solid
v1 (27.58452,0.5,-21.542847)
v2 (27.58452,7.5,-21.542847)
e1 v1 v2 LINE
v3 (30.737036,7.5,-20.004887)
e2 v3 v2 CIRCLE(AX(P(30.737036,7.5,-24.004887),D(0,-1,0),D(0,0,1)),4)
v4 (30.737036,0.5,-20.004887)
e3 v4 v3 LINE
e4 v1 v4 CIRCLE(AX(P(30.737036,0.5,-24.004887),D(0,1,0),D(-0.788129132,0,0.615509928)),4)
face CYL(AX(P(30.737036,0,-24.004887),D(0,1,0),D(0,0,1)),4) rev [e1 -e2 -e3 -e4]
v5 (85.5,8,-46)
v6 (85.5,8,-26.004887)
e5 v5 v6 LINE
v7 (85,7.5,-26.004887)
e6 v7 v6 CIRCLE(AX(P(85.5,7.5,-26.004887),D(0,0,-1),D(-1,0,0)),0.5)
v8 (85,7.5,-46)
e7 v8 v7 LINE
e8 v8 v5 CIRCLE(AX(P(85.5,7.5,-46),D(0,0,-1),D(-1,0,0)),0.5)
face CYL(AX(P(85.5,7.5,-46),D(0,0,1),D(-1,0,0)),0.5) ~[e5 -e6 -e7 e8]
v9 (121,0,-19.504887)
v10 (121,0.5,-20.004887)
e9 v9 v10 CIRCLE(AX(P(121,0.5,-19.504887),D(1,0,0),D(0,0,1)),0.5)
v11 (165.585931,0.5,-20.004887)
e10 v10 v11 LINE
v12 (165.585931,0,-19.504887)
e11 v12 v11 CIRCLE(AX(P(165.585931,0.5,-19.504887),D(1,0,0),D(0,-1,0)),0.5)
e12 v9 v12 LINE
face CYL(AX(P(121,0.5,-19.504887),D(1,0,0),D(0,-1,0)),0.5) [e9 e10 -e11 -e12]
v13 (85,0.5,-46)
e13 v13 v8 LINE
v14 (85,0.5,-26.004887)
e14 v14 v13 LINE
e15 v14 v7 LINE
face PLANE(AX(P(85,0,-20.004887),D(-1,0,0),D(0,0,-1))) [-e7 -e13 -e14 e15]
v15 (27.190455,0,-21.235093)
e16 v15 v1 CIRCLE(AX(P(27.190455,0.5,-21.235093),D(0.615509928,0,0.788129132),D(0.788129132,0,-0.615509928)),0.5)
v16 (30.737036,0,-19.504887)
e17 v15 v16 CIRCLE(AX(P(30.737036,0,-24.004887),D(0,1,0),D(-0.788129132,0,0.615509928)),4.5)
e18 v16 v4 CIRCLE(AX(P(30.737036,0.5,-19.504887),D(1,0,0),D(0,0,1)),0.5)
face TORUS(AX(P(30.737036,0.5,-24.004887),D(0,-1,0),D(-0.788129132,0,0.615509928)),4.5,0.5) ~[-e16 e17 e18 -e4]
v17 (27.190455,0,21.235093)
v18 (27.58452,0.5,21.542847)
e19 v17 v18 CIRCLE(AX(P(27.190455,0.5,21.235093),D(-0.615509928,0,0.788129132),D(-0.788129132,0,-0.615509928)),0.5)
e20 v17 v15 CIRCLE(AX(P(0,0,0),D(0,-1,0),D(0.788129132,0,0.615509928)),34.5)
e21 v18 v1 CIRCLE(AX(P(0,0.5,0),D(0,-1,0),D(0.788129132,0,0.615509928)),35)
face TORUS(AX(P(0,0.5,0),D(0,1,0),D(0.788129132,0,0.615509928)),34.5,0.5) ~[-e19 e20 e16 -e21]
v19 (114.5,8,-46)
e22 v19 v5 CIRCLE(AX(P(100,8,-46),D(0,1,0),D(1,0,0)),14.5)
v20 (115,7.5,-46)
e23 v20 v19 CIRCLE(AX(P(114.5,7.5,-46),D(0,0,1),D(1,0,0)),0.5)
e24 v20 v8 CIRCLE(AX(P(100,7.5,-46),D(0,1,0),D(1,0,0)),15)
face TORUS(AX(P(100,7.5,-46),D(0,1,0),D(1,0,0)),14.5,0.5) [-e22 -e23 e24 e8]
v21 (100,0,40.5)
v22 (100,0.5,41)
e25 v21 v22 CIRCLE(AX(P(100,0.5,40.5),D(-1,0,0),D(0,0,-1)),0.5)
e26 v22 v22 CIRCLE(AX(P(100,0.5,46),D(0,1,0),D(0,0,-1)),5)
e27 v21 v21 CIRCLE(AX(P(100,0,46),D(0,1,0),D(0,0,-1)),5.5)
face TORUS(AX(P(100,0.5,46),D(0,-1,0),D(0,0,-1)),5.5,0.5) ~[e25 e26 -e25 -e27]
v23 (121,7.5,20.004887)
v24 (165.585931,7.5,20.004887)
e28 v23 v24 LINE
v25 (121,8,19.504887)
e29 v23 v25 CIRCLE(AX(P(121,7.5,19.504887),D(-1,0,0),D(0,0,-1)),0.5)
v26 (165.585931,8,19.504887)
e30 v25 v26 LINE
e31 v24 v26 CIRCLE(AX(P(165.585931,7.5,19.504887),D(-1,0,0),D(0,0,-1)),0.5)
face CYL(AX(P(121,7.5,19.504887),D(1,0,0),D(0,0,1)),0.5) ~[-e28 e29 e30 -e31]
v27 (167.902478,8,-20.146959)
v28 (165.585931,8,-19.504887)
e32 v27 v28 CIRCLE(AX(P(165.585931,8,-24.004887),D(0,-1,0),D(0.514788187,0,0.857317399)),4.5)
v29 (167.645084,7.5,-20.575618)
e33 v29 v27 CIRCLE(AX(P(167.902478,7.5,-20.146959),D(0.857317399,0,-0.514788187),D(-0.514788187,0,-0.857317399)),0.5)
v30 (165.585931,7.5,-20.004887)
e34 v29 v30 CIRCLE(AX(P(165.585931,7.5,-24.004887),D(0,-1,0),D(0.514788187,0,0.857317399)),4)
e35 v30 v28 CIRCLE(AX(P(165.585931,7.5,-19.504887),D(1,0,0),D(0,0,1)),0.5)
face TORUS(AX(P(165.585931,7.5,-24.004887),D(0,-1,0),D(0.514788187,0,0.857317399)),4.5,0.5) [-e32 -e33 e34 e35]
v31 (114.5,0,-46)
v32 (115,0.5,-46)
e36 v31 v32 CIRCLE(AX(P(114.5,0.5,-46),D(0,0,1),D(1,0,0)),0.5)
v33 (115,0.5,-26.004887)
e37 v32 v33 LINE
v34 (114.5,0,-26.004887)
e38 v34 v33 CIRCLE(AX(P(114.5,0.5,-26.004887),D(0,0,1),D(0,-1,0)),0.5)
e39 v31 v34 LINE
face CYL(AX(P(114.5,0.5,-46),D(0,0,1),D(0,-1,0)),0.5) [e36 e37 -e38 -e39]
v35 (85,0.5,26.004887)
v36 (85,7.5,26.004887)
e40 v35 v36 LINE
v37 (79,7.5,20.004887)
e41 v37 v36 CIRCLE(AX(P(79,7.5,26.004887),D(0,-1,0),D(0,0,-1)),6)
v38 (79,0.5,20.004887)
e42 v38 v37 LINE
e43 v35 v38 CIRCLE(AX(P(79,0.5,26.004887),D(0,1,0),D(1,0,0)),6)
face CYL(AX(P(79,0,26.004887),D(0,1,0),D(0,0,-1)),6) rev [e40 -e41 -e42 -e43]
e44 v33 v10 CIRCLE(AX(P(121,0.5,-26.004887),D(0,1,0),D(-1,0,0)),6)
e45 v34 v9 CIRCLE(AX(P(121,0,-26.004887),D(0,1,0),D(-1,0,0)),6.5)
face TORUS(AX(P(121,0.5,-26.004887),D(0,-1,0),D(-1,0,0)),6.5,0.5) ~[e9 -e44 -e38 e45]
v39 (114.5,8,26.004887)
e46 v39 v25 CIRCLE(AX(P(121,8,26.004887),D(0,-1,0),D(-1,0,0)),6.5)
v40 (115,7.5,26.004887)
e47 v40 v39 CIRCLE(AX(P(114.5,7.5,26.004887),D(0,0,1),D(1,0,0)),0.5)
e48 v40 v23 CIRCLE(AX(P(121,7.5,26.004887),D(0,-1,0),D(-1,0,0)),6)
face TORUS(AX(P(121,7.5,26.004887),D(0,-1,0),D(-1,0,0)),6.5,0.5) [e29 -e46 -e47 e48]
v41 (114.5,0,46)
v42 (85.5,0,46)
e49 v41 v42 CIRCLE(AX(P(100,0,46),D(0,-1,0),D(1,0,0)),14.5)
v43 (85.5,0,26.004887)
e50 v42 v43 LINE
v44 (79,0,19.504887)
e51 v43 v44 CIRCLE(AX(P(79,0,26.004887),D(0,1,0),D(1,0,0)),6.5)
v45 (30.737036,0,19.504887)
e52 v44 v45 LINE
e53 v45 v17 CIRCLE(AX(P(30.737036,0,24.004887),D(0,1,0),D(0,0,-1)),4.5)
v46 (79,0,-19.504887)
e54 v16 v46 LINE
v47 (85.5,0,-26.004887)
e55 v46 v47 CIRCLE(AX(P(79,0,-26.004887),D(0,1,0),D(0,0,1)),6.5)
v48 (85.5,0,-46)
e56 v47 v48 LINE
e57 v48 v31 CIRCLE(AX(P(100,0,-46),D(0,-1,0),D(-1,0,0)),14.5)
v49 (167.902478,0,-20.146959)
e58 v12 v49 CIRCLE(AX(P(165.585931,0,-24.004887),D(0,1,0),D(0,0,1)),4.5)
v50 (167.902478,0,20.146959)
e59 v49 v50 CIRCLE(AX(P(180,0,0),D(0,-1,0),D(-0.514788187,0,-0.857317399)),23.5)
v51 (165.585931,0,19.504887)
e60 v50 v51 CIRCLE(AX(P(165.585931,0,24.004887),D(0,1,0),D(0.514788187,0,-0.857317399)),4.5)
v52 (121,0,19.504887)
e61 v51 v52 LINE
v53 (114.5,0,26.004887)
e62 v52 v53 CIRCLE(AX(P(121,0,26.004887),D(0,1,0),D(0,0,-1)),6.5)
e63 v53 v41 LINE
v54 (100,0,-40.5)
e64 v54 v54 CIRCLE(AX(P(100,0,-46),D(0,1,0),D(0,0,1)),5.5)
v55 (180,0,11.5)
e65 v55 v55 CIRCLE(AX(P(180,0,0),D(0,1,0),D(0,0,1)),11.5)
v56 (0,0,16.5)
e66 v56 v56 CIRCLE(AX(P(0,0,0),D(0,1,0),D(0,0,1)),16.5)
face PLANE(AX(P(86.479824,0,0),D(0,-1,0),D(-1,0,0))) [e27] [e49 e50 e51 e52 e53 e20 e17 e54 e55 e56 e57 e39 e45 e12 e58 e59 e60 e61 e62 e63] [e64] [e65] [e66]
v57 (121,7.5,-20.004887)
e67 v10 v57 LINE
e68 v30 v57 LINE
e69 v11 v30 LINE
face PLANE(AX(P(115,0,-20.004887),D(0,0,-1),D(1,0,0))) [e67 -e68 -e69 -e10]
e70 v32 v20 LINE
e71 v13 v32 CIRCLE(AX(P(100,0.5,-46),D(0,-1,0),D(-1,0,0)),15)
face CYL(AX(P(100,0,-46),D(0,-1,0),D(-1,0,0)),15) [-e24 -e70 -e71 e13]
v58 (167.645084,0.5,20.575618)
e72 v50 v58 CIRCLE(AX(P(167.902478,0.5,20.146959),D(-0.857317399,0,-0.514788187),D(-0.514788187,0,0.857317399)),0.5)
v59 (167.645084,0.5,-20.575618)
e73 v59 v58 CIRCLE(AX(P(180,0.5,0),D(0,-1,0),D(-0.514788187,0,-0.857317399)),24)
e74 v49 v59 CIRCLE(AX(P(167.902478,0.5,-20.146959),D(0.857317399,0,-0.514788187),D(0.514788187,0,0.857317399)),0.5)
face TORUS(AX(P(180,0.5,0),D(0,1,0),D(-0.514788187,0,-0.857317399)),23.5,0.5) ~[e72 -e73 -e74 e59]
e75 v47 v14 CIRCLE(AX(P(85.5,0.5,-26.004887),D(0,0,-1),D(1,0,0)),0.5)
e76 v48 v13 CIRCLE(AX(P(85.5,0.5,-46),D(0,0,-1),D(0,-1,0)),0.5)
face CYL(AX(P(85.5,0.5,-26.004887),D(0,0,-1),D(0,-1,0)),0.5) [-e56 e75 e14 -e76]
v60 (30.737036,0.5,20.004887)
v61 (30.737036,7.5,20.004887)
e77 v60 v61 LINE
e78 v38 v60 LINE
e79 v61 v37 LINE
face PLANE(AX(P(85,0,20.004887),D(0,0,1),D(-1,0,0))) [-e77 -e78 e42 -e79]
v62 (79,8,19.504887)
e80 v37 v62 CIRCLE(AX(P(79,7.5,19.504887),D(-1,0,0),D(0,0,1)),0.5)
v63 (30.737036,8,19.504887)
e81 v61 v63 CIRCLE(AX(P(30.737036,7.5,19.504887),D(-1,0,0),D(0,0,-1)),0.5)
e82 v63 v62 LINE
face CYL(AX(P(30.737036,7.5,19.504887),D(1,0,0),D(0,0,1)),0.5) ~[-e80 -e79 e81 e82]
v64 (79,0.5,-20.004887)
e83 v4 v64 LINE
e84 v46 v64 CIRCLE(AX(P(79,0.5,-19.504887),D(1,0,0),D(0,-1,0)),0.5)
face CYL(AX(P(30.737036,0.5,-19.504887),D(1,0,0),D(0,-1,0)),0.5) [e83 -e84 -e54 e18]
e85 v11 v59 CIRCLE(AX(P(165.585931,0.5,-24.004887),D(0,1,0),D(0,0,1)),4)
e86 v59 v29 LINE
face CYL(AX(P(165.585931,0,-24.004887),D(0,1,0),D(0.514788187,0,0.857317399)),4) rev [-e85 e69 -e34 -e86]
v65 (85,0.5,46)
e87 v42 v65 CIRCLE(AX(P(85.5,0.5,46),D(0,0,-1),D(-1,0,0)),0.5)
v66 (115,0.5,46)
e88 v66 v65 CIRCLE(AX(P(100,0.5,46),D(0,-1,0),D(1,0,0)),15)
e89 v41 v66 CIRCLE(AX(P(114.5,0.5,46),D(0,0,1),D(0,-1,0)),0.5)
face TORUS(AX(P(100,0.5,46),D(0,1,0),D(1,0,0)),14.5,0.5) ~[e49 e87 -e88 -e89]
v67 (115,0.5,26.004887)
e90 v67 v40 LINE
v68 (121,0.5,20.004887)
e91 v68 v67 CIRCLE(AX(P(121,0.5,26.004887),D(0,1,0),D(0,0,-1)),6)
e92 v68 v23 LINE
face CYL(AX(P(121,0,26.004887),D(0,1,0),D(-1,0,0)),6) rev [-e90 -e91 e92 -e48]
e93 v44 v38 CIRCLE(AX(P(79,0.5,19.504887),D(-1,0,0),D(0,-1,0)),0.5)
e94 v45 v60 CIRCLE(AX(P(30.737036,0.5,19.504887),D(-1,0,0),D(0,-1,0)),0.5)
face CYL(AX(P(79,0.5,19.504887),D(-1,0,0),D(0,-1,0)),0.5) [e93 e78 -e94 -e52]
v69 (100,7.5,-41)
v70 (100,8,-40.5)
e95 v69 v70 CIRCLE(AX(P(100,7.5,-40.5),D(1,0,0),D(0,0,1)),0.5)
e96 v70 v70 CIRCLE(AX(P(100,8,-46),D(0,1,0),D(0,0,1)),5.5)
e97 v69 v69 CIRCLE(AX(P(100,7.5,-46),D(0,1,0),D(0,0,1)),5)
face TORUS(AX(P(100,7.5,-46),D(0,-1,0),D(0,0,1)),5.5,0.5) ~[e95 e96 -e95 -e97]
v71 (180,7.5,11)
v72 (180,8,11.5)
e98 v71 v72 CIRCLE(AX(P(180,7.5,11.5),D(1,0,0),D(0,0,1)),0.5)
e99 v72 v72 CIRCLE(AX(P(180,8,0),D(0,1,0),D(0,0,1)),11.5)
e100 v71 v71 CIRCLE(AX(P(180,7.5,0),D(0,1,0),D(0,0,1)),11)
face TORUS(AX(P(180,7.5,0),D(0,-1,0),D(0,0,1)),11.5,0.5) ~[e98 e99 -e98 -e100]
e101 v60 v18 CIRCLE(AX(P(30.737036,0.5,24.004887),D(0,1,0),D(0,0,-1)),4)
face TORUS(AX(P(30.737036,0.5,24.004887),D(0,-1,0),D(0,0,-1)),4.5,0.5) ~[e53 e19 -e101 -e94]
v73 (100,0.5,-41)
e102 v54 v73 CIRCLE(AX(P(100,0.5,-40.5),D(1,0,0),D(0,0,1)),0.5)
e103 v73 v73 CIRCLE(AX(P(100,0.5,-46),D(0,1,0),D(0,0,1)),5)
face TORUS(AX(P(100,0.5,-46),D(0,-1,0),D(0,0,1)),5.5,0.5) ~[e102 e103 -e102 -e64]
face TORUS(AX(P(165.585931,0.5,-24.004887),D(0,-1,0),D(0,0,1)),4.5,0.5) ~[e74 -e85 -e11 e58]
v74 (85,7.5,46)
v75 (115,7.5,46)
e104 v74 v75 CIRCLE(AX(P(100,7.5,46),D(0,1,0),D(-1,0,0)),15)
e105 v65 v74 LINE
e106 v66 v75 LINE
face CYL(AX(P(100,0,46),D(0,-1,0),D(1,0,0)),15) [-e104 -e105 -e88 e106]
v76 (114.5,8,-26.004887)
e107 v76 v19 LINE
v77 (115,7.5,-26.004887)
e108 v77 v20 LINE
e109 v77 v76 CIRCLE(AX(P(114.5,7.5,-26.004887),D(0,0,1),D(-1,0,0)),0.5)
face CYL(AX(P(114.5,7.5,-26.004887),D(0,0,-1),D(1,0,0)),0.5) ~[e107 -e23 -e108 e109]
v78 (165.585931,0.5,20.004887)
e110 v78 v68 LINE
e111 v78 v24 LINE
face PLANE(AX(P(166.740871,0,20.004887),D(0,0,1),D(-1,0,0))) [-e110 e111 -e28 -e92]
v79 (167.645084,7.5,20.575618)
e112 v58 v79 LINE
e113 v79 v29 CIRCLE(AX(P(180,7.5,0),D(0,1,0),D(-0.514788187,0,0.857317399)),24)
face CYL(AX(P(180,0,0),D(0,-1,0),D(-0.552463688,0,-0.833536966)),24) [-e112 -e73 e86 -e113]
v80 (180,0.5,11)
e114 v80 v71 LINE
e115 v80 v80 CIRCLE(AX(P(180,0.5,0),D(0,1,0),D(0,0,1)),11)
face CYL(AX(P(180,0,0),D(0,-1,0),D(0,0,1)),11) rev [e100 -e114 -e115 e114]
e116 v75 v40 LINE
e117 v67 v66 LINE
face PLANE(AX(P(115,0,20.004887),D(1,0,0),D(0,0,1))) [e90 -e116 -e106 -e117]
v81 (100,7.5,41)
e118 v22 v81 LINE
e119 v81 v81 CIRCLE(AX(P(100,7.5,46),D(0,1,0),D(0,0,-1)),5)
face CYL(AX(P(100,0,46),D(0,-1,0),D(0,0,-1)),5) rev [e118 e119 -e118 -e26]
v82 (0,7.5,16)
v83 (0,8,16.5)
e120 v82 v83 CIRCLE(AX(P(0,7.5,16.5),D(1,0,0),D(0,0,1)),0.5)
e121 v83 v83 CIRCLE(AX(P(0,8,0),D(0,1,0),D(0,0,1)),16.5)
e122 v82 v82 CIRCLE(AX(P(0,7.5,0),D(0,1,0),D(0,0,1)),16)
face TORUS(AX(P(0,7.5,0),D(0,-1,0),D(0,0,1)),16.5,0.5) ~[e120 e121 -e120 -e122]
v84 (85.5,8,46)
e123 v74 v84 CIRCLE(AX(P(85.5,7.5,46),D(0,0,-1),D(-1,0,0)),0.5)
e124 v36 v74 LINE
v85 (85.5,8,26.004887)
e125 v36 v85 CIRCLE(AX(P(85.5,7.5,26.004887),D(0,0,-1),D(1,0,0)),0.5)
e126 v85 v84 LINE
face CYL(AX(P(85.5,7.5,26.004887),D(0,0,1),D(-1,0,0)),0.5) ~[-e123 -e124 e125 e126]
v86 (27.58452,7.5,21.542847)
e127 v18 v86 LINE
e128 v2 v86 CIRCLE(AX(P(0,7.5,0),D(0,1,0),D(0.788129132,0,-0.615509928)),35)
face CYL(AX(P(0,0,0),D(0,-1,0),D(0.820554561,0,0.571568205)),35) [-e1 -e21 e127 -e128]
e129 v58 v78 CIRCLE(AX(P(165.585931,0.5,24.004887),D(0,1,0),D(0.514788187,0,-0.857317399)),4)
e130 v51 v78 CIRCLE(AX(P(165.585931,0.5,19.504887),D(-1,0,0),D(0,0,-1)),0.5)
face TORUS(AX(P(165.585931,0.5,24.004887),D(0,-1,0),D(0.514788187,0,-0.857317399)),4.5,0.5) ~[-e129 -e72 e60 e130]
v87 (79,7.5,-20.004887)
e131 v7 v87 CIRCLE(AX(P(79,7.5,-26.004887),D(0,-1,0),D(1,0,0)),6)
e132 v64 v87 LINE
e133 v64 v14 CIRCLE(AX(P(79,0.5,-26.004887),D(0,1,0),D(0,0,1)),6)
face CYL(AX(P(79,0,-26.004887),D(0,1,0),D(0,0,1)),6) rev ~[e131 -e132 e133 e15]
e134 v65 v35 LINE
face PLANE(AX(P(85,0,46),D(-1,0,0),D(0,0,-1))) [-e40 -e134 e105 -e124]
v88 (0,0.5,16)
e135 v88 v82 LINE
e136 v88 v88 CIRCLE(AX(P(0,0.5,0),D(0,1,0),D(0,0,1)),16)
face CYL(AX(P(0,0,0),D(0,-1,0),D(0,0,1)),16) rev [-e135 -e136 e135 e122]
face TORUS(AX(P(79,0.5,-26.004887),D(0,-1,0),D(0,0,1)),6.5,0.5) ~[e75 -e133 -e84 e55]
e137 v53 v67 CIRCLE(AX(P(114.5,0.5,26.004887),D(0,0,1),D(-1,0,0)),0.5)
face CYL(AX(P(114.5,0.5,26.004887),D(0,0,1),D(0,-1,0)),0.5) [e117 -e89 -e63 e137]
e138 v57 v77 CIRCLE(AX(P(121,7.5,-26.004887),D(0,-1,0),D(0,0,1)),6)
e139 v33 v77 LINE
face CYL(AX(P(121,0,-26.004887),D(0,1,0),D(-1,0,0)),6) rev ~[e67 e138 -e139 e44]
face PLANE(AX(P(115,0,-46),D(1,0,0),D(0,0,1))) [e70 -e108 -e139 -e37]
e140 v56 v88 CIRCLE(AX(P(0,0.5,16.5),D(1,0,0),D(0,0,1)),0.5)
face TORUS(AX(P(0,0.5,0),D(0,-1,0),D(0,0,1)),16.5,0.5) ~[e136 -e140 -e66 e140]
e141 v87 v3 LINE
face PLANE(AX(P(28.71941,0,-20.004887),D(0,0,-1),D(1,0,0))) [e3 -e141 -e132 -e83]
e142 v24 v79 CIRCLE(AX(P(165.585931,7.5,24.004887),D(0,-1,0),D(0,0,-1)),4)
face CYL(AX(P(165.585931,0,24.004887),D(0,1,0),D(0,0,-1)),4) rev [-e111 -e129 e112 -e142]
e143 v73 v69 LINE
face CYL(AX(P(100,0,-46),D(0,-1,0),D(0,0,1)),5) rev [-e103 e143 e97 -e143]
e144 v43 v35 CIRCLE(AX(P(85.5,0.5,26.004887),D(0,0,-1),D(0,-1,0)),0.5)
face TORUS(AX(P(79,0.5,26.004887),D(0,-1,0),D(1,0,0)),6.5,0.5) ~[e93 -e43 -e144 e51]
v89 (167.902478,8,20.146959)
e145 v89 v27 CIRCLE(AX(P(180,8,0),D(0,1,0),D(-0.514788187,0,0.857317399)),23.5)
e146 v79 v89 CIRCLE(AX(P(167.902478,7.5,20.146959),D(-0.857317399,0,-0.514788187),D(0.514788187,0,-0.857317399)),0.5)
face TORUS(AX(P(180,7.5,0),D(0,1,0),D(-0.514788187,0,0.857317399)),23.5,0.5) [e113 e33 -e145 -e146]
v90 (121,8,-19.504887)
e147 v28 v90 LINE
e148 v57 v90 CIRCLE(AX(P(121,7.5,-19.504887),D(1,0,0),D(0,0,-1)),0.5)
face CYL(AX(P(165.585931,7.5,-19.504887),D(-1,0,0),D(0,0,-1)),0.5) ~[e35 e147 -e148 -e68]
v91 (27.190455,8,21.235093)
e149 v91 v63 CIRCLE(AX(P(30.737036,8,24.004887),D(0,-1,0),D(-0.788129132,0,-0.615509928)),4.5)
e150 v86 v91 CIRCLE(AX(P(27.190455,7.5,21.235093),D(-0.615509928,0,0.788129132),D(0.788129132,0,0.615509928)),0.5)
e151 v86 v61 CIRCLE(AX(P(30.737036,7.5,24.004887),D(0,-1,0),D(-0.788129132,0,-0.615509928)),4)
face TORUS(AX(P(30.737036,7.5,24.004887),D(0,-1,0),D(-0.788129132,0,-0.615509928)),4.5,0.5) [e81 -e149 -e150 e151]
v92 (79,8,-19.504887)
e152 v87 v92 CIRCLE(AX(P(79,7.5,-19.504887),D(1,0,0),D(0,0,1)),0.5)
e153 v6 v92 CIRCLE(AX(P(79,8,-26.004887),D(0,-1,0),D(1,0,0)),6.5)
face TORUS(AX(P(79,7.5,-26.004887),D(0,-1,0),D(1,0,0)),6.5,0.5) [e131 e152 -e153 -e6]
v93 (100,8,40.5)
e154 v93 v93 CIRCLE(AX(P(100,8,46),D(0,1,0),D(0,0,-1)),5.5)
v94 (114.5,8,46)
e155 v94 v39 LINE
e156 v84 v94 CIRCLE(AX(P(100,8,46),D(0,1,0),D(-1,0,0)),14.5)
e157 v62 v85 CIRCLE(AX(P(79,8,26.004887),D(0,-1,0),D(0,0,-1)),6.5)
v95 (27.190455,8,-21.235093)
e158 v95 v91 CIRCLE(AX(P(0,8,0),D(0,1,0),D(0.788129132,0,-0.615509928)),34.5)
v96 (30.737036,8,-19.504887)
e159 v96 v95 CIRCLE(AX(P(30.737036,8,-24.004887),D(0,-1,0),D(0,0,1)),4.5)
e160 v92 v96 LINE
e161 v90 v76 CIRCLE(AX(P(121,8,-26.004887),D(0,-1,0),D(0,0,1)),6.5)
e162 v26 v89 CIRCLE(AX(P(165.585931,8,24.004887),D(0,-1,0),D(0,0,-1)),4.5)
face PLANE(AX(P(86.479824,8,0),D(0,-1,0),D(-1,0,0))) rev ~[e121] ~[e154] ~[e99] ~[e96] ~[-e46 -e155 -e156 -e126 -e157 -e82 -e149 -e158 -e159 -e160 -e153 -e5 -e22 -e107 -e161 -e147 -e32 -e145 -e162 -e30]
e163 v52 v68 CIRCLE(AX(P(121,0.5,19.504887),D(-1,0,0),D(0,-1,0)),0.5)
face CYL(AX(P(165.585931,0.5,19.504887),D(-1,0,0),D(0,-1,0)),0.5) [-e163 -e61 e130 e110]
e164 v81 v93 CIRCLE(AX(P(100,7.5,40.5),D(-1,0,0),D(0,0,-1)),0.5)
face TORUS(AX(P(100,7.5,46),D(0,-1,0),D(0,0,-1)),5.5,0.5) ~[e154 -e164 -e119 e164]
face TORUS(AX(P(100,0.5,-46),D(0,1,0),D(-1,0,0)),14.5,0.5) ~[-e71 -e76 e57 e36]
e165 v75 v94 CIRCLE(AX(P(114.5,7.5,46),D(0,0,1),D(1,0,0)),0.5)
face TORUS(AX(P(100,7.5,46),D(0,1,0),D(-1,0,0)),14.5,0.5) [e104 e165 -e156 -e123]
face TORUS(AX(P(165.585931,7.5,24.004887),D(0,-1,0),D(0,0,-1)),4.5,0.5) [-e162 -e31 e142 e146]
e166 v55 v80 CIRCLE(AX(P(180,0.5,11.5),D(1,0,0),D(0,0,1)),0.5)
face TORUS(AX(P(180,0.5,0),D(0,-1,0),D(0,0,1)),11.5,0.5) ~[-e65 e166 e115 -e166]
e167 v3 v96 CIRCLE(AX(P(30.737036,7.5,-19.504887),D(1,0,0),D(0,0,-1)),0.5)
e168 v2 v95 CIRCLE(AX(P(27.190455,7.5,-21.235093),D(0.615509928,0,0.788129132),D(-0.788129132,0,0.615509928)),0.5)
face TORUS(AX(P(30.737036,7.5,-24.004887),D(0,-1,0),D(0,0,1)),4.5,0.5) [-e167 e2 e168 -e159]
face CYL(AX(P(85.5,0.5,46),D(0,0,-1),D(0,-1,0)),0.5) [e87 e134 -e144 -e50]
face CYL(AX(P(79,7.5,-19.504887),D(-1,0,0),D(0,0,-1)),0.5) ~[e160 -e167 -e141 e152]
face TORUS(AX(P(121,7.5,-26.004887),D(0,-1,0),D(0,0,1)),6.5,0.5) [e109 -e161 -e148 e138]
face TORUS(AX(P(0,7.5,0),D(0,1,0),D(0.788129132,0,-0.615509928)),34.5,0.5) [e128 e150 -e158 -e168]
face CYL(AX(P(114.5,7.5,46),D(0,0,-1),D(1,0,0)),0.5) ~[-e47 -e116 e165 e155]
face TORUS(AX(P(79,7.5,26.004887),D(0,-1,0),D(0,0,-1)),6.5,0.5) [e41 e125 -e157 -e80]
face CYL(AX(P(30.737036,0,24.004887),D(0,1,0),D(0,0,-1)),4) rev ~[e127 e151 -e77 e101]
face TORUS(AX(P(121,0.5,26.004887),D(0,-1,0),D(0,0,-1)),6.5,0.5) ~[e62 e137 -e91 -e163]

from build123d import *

# Parameters (mm, degrees)
SKETCH_1_R      = 16
SKETCH_1_R_2    = 5
SKETCH_1_R_3    = 11
EXTRUDE_2_DEPTH = 8
FILLET_1_R      = 6
FILLET_2_R      = 6
FILLET_3_R      = 6
FILLET_4_R      = 6
FILLET_5_R      = 4
FILLET_6_R      = 4
FILLET_7_R      = 4
FILLET_8_R      = 4
FILLET_9_R      = 0.5


with BuildPart() as part:
    # 草图1 → 凸台-拉伸2 (new body)
    with BuildSketch(Plane(origin=(0, 0, 0), x_dir=(1, 0, 0), z_dir=(0, 1, 0))):
        with BuildLine():
            Line((28.719409623, 20.004887175), (85, 20.004887175))
            Line((85, 20.004887175), (85, 46))
            ThreePointArc((85, 46), (100, 61), (115, 46))
            Line((115, 46), (115, 20.004887175))
            Line((115, 20.004887175), (166.74087148, 20.004887175))
            ThreePointArc((166.74087148, 20.004887175), (204, 0), (166.74087148, -20.004887175))
            Line((166.74087148, -20.004887175), (115, -20.004887175))
            Line((115, -20.004887175), (115, -46))
            ThreePointArc((115, -46), (100, -61), (85, -46))
            Line((85, -46), (85, -20.004887175))
            Line((85, -20.004887175), (28.719409623, -20.004887175))
            ThreePointArc((28.719409623, -20.004887175), (-35, 0), (28.719409623, 20.004887175))
        make_face()
        with Locations(Location((0, 0, 0), (0, 0, 270))):
            Circle(SKETCH_1_R, mode=Mode.SUBTRACT)
        with Locations(Location((100, 46, 0), (0, 0, 270))):
            Circle(SKETCH_1_R_2, mode=Mode.SUBTRACT)
        with Locations(Location((180, 0, 0), (0, 0, 270))):
            Circle(SKETCH_1_R_3, mode=Mode.SUBTRACT)
        with Locations(Location((100, -46, 0), (0, 0, 90))):
            Circle(SKETCH_1_R_2, mode=Mode.SUBTRACT)
    extrude(amount=EXTRUDE_2_DEPTH)

    # 圆角1
    fillet_1_edges = [part.edges().sort_by_distance(p)[0] for p in [
        (85, 4, -20.004887175),
    ]]
    fillet(fillet_1_edges, radius=FILLET_1_R)

    # 圆角2
    fillet_2_edges = [part.edges().sort_by_distance(p)[0] for p in [
        (115, 4, -20.004887175),
    ]]
    fillet(fillet_2_edges, radius=FILLET_2_R)

    # 圆角3
    fillet_3_edges = [part.edges().sort_by_distance(p)[0] for p in [
        (85, 4, 20.004887175),
    ]]
    fillet(fillet_3_edges, radius=FILLET_3_R)

    # 圆角4
    fillet_4_edges = [part.edges().sort_by_distance(p)[0] for p in [
        (115, 4, 20.004887175),
    ]]
    fillet(fillet_4_edges, radius=FILLET_4_R)

    # 圆角5
    fillet_5_edges = [part.edges().sort_by_distance(p)[0] for p in [
        (166.74087148, 4, 20.004887175),
    ]]
    fillet(fillet_5_edges, radius=FILLET_5_R)

    # 圆角6
    fillet_6_edges = [part.edges().sort_by_distance(p)[0] for p in [
        (28.719409623, 4, 20.004887175),
    ]]
    fillet(fillet_6_edges, radius=FILLET_6_R)

    # 圆角7
    fillet_7_edges = [part.edges().sort_by_distance(p)[0] for p in [
        (166.74087148, 4, -20.004887175),
    ]]
    fillet(fillet_7_edges, radius=FILLET_7_R)

    # 圆角8
    fillet_8_edges = [part.edges().sort_by_distance(p)[0] for p in [
        (28.719409623, 4, -20.004887175),
    ]]
    fillet(fillet_8_edges, radius=FILLET_8_R)

    # 圆角9
    fillet_9_edges = [part.edges().sort_by_distance(p)[0] for p in [
        (166.654322464, 8, 20.150209602),
        (54.868518078, 0, 20.004887175),
        (54.868518078, 8, 20.004887175),
        (28.983205897, 8, 20.409879606),
        (28.983205897, 0, 20.409879606),
        (85, 0, -36.002443588),
        (100, 0, -61),
        (143.292965386, 0, -20.004887175),
        (143.292965386, 8, -20.004887175),
        (166.654322464, 0, -20.150209602),
        (166.654322464, 8, -20.150209602),
        (100, 8, 61),
        (-35, 0, 0),
        (-35, 8, 0),
        (28.983205897, 0, -20.409879606),
        (28.983205897, 8, -20.409879606),
        (115, 0, 36.002443588),
        (100, 0, 61),
        (115, 8, 36.002443588),
        (0, 0, -16),
        (0, 8, -16),
        (100, 8, -61),
        (100, 0, -51),
        (100, 8, -51),
        (85, 8, -36.002443588),
        (100, 0, 51),
        (100, 8, 51),
        (180, 0, -11),
        (180, 8, -11),
        (54.868518078, 0, -20.004887175),
        (54.868518078, 8, -20.004887175),
        (83.242640687, 8, -21.762246488),
        (83.242640687, 0, -21.762246488),
        (115, 0, -36.002443588),
        (115, 8, -36.002443588),
        (116.757359313, 8, -21.762246488),
        (116.757359313, 0, -21.762246488),
        (85, 0, 36.002443588),
        (85, 8, 36.002443588),
        (83.242640687, 0, 21.762246488),
        (83.242640687, 8, 21.762246488),
        (143.292965386, 0, 20.004887175),
        (143.292965386, 8, 20.004887175),
        (116.757359313, 8, 21.762246488),
        (116.757359313, 0, 21.762246488),
        (204, 0, 0),
        (204, 8, 0),
        (166.654322464, 0, 20.150209602),
    ]]
    fillet(fillet_9_edges, radius=FILLET_9_R)


solid = part.part
